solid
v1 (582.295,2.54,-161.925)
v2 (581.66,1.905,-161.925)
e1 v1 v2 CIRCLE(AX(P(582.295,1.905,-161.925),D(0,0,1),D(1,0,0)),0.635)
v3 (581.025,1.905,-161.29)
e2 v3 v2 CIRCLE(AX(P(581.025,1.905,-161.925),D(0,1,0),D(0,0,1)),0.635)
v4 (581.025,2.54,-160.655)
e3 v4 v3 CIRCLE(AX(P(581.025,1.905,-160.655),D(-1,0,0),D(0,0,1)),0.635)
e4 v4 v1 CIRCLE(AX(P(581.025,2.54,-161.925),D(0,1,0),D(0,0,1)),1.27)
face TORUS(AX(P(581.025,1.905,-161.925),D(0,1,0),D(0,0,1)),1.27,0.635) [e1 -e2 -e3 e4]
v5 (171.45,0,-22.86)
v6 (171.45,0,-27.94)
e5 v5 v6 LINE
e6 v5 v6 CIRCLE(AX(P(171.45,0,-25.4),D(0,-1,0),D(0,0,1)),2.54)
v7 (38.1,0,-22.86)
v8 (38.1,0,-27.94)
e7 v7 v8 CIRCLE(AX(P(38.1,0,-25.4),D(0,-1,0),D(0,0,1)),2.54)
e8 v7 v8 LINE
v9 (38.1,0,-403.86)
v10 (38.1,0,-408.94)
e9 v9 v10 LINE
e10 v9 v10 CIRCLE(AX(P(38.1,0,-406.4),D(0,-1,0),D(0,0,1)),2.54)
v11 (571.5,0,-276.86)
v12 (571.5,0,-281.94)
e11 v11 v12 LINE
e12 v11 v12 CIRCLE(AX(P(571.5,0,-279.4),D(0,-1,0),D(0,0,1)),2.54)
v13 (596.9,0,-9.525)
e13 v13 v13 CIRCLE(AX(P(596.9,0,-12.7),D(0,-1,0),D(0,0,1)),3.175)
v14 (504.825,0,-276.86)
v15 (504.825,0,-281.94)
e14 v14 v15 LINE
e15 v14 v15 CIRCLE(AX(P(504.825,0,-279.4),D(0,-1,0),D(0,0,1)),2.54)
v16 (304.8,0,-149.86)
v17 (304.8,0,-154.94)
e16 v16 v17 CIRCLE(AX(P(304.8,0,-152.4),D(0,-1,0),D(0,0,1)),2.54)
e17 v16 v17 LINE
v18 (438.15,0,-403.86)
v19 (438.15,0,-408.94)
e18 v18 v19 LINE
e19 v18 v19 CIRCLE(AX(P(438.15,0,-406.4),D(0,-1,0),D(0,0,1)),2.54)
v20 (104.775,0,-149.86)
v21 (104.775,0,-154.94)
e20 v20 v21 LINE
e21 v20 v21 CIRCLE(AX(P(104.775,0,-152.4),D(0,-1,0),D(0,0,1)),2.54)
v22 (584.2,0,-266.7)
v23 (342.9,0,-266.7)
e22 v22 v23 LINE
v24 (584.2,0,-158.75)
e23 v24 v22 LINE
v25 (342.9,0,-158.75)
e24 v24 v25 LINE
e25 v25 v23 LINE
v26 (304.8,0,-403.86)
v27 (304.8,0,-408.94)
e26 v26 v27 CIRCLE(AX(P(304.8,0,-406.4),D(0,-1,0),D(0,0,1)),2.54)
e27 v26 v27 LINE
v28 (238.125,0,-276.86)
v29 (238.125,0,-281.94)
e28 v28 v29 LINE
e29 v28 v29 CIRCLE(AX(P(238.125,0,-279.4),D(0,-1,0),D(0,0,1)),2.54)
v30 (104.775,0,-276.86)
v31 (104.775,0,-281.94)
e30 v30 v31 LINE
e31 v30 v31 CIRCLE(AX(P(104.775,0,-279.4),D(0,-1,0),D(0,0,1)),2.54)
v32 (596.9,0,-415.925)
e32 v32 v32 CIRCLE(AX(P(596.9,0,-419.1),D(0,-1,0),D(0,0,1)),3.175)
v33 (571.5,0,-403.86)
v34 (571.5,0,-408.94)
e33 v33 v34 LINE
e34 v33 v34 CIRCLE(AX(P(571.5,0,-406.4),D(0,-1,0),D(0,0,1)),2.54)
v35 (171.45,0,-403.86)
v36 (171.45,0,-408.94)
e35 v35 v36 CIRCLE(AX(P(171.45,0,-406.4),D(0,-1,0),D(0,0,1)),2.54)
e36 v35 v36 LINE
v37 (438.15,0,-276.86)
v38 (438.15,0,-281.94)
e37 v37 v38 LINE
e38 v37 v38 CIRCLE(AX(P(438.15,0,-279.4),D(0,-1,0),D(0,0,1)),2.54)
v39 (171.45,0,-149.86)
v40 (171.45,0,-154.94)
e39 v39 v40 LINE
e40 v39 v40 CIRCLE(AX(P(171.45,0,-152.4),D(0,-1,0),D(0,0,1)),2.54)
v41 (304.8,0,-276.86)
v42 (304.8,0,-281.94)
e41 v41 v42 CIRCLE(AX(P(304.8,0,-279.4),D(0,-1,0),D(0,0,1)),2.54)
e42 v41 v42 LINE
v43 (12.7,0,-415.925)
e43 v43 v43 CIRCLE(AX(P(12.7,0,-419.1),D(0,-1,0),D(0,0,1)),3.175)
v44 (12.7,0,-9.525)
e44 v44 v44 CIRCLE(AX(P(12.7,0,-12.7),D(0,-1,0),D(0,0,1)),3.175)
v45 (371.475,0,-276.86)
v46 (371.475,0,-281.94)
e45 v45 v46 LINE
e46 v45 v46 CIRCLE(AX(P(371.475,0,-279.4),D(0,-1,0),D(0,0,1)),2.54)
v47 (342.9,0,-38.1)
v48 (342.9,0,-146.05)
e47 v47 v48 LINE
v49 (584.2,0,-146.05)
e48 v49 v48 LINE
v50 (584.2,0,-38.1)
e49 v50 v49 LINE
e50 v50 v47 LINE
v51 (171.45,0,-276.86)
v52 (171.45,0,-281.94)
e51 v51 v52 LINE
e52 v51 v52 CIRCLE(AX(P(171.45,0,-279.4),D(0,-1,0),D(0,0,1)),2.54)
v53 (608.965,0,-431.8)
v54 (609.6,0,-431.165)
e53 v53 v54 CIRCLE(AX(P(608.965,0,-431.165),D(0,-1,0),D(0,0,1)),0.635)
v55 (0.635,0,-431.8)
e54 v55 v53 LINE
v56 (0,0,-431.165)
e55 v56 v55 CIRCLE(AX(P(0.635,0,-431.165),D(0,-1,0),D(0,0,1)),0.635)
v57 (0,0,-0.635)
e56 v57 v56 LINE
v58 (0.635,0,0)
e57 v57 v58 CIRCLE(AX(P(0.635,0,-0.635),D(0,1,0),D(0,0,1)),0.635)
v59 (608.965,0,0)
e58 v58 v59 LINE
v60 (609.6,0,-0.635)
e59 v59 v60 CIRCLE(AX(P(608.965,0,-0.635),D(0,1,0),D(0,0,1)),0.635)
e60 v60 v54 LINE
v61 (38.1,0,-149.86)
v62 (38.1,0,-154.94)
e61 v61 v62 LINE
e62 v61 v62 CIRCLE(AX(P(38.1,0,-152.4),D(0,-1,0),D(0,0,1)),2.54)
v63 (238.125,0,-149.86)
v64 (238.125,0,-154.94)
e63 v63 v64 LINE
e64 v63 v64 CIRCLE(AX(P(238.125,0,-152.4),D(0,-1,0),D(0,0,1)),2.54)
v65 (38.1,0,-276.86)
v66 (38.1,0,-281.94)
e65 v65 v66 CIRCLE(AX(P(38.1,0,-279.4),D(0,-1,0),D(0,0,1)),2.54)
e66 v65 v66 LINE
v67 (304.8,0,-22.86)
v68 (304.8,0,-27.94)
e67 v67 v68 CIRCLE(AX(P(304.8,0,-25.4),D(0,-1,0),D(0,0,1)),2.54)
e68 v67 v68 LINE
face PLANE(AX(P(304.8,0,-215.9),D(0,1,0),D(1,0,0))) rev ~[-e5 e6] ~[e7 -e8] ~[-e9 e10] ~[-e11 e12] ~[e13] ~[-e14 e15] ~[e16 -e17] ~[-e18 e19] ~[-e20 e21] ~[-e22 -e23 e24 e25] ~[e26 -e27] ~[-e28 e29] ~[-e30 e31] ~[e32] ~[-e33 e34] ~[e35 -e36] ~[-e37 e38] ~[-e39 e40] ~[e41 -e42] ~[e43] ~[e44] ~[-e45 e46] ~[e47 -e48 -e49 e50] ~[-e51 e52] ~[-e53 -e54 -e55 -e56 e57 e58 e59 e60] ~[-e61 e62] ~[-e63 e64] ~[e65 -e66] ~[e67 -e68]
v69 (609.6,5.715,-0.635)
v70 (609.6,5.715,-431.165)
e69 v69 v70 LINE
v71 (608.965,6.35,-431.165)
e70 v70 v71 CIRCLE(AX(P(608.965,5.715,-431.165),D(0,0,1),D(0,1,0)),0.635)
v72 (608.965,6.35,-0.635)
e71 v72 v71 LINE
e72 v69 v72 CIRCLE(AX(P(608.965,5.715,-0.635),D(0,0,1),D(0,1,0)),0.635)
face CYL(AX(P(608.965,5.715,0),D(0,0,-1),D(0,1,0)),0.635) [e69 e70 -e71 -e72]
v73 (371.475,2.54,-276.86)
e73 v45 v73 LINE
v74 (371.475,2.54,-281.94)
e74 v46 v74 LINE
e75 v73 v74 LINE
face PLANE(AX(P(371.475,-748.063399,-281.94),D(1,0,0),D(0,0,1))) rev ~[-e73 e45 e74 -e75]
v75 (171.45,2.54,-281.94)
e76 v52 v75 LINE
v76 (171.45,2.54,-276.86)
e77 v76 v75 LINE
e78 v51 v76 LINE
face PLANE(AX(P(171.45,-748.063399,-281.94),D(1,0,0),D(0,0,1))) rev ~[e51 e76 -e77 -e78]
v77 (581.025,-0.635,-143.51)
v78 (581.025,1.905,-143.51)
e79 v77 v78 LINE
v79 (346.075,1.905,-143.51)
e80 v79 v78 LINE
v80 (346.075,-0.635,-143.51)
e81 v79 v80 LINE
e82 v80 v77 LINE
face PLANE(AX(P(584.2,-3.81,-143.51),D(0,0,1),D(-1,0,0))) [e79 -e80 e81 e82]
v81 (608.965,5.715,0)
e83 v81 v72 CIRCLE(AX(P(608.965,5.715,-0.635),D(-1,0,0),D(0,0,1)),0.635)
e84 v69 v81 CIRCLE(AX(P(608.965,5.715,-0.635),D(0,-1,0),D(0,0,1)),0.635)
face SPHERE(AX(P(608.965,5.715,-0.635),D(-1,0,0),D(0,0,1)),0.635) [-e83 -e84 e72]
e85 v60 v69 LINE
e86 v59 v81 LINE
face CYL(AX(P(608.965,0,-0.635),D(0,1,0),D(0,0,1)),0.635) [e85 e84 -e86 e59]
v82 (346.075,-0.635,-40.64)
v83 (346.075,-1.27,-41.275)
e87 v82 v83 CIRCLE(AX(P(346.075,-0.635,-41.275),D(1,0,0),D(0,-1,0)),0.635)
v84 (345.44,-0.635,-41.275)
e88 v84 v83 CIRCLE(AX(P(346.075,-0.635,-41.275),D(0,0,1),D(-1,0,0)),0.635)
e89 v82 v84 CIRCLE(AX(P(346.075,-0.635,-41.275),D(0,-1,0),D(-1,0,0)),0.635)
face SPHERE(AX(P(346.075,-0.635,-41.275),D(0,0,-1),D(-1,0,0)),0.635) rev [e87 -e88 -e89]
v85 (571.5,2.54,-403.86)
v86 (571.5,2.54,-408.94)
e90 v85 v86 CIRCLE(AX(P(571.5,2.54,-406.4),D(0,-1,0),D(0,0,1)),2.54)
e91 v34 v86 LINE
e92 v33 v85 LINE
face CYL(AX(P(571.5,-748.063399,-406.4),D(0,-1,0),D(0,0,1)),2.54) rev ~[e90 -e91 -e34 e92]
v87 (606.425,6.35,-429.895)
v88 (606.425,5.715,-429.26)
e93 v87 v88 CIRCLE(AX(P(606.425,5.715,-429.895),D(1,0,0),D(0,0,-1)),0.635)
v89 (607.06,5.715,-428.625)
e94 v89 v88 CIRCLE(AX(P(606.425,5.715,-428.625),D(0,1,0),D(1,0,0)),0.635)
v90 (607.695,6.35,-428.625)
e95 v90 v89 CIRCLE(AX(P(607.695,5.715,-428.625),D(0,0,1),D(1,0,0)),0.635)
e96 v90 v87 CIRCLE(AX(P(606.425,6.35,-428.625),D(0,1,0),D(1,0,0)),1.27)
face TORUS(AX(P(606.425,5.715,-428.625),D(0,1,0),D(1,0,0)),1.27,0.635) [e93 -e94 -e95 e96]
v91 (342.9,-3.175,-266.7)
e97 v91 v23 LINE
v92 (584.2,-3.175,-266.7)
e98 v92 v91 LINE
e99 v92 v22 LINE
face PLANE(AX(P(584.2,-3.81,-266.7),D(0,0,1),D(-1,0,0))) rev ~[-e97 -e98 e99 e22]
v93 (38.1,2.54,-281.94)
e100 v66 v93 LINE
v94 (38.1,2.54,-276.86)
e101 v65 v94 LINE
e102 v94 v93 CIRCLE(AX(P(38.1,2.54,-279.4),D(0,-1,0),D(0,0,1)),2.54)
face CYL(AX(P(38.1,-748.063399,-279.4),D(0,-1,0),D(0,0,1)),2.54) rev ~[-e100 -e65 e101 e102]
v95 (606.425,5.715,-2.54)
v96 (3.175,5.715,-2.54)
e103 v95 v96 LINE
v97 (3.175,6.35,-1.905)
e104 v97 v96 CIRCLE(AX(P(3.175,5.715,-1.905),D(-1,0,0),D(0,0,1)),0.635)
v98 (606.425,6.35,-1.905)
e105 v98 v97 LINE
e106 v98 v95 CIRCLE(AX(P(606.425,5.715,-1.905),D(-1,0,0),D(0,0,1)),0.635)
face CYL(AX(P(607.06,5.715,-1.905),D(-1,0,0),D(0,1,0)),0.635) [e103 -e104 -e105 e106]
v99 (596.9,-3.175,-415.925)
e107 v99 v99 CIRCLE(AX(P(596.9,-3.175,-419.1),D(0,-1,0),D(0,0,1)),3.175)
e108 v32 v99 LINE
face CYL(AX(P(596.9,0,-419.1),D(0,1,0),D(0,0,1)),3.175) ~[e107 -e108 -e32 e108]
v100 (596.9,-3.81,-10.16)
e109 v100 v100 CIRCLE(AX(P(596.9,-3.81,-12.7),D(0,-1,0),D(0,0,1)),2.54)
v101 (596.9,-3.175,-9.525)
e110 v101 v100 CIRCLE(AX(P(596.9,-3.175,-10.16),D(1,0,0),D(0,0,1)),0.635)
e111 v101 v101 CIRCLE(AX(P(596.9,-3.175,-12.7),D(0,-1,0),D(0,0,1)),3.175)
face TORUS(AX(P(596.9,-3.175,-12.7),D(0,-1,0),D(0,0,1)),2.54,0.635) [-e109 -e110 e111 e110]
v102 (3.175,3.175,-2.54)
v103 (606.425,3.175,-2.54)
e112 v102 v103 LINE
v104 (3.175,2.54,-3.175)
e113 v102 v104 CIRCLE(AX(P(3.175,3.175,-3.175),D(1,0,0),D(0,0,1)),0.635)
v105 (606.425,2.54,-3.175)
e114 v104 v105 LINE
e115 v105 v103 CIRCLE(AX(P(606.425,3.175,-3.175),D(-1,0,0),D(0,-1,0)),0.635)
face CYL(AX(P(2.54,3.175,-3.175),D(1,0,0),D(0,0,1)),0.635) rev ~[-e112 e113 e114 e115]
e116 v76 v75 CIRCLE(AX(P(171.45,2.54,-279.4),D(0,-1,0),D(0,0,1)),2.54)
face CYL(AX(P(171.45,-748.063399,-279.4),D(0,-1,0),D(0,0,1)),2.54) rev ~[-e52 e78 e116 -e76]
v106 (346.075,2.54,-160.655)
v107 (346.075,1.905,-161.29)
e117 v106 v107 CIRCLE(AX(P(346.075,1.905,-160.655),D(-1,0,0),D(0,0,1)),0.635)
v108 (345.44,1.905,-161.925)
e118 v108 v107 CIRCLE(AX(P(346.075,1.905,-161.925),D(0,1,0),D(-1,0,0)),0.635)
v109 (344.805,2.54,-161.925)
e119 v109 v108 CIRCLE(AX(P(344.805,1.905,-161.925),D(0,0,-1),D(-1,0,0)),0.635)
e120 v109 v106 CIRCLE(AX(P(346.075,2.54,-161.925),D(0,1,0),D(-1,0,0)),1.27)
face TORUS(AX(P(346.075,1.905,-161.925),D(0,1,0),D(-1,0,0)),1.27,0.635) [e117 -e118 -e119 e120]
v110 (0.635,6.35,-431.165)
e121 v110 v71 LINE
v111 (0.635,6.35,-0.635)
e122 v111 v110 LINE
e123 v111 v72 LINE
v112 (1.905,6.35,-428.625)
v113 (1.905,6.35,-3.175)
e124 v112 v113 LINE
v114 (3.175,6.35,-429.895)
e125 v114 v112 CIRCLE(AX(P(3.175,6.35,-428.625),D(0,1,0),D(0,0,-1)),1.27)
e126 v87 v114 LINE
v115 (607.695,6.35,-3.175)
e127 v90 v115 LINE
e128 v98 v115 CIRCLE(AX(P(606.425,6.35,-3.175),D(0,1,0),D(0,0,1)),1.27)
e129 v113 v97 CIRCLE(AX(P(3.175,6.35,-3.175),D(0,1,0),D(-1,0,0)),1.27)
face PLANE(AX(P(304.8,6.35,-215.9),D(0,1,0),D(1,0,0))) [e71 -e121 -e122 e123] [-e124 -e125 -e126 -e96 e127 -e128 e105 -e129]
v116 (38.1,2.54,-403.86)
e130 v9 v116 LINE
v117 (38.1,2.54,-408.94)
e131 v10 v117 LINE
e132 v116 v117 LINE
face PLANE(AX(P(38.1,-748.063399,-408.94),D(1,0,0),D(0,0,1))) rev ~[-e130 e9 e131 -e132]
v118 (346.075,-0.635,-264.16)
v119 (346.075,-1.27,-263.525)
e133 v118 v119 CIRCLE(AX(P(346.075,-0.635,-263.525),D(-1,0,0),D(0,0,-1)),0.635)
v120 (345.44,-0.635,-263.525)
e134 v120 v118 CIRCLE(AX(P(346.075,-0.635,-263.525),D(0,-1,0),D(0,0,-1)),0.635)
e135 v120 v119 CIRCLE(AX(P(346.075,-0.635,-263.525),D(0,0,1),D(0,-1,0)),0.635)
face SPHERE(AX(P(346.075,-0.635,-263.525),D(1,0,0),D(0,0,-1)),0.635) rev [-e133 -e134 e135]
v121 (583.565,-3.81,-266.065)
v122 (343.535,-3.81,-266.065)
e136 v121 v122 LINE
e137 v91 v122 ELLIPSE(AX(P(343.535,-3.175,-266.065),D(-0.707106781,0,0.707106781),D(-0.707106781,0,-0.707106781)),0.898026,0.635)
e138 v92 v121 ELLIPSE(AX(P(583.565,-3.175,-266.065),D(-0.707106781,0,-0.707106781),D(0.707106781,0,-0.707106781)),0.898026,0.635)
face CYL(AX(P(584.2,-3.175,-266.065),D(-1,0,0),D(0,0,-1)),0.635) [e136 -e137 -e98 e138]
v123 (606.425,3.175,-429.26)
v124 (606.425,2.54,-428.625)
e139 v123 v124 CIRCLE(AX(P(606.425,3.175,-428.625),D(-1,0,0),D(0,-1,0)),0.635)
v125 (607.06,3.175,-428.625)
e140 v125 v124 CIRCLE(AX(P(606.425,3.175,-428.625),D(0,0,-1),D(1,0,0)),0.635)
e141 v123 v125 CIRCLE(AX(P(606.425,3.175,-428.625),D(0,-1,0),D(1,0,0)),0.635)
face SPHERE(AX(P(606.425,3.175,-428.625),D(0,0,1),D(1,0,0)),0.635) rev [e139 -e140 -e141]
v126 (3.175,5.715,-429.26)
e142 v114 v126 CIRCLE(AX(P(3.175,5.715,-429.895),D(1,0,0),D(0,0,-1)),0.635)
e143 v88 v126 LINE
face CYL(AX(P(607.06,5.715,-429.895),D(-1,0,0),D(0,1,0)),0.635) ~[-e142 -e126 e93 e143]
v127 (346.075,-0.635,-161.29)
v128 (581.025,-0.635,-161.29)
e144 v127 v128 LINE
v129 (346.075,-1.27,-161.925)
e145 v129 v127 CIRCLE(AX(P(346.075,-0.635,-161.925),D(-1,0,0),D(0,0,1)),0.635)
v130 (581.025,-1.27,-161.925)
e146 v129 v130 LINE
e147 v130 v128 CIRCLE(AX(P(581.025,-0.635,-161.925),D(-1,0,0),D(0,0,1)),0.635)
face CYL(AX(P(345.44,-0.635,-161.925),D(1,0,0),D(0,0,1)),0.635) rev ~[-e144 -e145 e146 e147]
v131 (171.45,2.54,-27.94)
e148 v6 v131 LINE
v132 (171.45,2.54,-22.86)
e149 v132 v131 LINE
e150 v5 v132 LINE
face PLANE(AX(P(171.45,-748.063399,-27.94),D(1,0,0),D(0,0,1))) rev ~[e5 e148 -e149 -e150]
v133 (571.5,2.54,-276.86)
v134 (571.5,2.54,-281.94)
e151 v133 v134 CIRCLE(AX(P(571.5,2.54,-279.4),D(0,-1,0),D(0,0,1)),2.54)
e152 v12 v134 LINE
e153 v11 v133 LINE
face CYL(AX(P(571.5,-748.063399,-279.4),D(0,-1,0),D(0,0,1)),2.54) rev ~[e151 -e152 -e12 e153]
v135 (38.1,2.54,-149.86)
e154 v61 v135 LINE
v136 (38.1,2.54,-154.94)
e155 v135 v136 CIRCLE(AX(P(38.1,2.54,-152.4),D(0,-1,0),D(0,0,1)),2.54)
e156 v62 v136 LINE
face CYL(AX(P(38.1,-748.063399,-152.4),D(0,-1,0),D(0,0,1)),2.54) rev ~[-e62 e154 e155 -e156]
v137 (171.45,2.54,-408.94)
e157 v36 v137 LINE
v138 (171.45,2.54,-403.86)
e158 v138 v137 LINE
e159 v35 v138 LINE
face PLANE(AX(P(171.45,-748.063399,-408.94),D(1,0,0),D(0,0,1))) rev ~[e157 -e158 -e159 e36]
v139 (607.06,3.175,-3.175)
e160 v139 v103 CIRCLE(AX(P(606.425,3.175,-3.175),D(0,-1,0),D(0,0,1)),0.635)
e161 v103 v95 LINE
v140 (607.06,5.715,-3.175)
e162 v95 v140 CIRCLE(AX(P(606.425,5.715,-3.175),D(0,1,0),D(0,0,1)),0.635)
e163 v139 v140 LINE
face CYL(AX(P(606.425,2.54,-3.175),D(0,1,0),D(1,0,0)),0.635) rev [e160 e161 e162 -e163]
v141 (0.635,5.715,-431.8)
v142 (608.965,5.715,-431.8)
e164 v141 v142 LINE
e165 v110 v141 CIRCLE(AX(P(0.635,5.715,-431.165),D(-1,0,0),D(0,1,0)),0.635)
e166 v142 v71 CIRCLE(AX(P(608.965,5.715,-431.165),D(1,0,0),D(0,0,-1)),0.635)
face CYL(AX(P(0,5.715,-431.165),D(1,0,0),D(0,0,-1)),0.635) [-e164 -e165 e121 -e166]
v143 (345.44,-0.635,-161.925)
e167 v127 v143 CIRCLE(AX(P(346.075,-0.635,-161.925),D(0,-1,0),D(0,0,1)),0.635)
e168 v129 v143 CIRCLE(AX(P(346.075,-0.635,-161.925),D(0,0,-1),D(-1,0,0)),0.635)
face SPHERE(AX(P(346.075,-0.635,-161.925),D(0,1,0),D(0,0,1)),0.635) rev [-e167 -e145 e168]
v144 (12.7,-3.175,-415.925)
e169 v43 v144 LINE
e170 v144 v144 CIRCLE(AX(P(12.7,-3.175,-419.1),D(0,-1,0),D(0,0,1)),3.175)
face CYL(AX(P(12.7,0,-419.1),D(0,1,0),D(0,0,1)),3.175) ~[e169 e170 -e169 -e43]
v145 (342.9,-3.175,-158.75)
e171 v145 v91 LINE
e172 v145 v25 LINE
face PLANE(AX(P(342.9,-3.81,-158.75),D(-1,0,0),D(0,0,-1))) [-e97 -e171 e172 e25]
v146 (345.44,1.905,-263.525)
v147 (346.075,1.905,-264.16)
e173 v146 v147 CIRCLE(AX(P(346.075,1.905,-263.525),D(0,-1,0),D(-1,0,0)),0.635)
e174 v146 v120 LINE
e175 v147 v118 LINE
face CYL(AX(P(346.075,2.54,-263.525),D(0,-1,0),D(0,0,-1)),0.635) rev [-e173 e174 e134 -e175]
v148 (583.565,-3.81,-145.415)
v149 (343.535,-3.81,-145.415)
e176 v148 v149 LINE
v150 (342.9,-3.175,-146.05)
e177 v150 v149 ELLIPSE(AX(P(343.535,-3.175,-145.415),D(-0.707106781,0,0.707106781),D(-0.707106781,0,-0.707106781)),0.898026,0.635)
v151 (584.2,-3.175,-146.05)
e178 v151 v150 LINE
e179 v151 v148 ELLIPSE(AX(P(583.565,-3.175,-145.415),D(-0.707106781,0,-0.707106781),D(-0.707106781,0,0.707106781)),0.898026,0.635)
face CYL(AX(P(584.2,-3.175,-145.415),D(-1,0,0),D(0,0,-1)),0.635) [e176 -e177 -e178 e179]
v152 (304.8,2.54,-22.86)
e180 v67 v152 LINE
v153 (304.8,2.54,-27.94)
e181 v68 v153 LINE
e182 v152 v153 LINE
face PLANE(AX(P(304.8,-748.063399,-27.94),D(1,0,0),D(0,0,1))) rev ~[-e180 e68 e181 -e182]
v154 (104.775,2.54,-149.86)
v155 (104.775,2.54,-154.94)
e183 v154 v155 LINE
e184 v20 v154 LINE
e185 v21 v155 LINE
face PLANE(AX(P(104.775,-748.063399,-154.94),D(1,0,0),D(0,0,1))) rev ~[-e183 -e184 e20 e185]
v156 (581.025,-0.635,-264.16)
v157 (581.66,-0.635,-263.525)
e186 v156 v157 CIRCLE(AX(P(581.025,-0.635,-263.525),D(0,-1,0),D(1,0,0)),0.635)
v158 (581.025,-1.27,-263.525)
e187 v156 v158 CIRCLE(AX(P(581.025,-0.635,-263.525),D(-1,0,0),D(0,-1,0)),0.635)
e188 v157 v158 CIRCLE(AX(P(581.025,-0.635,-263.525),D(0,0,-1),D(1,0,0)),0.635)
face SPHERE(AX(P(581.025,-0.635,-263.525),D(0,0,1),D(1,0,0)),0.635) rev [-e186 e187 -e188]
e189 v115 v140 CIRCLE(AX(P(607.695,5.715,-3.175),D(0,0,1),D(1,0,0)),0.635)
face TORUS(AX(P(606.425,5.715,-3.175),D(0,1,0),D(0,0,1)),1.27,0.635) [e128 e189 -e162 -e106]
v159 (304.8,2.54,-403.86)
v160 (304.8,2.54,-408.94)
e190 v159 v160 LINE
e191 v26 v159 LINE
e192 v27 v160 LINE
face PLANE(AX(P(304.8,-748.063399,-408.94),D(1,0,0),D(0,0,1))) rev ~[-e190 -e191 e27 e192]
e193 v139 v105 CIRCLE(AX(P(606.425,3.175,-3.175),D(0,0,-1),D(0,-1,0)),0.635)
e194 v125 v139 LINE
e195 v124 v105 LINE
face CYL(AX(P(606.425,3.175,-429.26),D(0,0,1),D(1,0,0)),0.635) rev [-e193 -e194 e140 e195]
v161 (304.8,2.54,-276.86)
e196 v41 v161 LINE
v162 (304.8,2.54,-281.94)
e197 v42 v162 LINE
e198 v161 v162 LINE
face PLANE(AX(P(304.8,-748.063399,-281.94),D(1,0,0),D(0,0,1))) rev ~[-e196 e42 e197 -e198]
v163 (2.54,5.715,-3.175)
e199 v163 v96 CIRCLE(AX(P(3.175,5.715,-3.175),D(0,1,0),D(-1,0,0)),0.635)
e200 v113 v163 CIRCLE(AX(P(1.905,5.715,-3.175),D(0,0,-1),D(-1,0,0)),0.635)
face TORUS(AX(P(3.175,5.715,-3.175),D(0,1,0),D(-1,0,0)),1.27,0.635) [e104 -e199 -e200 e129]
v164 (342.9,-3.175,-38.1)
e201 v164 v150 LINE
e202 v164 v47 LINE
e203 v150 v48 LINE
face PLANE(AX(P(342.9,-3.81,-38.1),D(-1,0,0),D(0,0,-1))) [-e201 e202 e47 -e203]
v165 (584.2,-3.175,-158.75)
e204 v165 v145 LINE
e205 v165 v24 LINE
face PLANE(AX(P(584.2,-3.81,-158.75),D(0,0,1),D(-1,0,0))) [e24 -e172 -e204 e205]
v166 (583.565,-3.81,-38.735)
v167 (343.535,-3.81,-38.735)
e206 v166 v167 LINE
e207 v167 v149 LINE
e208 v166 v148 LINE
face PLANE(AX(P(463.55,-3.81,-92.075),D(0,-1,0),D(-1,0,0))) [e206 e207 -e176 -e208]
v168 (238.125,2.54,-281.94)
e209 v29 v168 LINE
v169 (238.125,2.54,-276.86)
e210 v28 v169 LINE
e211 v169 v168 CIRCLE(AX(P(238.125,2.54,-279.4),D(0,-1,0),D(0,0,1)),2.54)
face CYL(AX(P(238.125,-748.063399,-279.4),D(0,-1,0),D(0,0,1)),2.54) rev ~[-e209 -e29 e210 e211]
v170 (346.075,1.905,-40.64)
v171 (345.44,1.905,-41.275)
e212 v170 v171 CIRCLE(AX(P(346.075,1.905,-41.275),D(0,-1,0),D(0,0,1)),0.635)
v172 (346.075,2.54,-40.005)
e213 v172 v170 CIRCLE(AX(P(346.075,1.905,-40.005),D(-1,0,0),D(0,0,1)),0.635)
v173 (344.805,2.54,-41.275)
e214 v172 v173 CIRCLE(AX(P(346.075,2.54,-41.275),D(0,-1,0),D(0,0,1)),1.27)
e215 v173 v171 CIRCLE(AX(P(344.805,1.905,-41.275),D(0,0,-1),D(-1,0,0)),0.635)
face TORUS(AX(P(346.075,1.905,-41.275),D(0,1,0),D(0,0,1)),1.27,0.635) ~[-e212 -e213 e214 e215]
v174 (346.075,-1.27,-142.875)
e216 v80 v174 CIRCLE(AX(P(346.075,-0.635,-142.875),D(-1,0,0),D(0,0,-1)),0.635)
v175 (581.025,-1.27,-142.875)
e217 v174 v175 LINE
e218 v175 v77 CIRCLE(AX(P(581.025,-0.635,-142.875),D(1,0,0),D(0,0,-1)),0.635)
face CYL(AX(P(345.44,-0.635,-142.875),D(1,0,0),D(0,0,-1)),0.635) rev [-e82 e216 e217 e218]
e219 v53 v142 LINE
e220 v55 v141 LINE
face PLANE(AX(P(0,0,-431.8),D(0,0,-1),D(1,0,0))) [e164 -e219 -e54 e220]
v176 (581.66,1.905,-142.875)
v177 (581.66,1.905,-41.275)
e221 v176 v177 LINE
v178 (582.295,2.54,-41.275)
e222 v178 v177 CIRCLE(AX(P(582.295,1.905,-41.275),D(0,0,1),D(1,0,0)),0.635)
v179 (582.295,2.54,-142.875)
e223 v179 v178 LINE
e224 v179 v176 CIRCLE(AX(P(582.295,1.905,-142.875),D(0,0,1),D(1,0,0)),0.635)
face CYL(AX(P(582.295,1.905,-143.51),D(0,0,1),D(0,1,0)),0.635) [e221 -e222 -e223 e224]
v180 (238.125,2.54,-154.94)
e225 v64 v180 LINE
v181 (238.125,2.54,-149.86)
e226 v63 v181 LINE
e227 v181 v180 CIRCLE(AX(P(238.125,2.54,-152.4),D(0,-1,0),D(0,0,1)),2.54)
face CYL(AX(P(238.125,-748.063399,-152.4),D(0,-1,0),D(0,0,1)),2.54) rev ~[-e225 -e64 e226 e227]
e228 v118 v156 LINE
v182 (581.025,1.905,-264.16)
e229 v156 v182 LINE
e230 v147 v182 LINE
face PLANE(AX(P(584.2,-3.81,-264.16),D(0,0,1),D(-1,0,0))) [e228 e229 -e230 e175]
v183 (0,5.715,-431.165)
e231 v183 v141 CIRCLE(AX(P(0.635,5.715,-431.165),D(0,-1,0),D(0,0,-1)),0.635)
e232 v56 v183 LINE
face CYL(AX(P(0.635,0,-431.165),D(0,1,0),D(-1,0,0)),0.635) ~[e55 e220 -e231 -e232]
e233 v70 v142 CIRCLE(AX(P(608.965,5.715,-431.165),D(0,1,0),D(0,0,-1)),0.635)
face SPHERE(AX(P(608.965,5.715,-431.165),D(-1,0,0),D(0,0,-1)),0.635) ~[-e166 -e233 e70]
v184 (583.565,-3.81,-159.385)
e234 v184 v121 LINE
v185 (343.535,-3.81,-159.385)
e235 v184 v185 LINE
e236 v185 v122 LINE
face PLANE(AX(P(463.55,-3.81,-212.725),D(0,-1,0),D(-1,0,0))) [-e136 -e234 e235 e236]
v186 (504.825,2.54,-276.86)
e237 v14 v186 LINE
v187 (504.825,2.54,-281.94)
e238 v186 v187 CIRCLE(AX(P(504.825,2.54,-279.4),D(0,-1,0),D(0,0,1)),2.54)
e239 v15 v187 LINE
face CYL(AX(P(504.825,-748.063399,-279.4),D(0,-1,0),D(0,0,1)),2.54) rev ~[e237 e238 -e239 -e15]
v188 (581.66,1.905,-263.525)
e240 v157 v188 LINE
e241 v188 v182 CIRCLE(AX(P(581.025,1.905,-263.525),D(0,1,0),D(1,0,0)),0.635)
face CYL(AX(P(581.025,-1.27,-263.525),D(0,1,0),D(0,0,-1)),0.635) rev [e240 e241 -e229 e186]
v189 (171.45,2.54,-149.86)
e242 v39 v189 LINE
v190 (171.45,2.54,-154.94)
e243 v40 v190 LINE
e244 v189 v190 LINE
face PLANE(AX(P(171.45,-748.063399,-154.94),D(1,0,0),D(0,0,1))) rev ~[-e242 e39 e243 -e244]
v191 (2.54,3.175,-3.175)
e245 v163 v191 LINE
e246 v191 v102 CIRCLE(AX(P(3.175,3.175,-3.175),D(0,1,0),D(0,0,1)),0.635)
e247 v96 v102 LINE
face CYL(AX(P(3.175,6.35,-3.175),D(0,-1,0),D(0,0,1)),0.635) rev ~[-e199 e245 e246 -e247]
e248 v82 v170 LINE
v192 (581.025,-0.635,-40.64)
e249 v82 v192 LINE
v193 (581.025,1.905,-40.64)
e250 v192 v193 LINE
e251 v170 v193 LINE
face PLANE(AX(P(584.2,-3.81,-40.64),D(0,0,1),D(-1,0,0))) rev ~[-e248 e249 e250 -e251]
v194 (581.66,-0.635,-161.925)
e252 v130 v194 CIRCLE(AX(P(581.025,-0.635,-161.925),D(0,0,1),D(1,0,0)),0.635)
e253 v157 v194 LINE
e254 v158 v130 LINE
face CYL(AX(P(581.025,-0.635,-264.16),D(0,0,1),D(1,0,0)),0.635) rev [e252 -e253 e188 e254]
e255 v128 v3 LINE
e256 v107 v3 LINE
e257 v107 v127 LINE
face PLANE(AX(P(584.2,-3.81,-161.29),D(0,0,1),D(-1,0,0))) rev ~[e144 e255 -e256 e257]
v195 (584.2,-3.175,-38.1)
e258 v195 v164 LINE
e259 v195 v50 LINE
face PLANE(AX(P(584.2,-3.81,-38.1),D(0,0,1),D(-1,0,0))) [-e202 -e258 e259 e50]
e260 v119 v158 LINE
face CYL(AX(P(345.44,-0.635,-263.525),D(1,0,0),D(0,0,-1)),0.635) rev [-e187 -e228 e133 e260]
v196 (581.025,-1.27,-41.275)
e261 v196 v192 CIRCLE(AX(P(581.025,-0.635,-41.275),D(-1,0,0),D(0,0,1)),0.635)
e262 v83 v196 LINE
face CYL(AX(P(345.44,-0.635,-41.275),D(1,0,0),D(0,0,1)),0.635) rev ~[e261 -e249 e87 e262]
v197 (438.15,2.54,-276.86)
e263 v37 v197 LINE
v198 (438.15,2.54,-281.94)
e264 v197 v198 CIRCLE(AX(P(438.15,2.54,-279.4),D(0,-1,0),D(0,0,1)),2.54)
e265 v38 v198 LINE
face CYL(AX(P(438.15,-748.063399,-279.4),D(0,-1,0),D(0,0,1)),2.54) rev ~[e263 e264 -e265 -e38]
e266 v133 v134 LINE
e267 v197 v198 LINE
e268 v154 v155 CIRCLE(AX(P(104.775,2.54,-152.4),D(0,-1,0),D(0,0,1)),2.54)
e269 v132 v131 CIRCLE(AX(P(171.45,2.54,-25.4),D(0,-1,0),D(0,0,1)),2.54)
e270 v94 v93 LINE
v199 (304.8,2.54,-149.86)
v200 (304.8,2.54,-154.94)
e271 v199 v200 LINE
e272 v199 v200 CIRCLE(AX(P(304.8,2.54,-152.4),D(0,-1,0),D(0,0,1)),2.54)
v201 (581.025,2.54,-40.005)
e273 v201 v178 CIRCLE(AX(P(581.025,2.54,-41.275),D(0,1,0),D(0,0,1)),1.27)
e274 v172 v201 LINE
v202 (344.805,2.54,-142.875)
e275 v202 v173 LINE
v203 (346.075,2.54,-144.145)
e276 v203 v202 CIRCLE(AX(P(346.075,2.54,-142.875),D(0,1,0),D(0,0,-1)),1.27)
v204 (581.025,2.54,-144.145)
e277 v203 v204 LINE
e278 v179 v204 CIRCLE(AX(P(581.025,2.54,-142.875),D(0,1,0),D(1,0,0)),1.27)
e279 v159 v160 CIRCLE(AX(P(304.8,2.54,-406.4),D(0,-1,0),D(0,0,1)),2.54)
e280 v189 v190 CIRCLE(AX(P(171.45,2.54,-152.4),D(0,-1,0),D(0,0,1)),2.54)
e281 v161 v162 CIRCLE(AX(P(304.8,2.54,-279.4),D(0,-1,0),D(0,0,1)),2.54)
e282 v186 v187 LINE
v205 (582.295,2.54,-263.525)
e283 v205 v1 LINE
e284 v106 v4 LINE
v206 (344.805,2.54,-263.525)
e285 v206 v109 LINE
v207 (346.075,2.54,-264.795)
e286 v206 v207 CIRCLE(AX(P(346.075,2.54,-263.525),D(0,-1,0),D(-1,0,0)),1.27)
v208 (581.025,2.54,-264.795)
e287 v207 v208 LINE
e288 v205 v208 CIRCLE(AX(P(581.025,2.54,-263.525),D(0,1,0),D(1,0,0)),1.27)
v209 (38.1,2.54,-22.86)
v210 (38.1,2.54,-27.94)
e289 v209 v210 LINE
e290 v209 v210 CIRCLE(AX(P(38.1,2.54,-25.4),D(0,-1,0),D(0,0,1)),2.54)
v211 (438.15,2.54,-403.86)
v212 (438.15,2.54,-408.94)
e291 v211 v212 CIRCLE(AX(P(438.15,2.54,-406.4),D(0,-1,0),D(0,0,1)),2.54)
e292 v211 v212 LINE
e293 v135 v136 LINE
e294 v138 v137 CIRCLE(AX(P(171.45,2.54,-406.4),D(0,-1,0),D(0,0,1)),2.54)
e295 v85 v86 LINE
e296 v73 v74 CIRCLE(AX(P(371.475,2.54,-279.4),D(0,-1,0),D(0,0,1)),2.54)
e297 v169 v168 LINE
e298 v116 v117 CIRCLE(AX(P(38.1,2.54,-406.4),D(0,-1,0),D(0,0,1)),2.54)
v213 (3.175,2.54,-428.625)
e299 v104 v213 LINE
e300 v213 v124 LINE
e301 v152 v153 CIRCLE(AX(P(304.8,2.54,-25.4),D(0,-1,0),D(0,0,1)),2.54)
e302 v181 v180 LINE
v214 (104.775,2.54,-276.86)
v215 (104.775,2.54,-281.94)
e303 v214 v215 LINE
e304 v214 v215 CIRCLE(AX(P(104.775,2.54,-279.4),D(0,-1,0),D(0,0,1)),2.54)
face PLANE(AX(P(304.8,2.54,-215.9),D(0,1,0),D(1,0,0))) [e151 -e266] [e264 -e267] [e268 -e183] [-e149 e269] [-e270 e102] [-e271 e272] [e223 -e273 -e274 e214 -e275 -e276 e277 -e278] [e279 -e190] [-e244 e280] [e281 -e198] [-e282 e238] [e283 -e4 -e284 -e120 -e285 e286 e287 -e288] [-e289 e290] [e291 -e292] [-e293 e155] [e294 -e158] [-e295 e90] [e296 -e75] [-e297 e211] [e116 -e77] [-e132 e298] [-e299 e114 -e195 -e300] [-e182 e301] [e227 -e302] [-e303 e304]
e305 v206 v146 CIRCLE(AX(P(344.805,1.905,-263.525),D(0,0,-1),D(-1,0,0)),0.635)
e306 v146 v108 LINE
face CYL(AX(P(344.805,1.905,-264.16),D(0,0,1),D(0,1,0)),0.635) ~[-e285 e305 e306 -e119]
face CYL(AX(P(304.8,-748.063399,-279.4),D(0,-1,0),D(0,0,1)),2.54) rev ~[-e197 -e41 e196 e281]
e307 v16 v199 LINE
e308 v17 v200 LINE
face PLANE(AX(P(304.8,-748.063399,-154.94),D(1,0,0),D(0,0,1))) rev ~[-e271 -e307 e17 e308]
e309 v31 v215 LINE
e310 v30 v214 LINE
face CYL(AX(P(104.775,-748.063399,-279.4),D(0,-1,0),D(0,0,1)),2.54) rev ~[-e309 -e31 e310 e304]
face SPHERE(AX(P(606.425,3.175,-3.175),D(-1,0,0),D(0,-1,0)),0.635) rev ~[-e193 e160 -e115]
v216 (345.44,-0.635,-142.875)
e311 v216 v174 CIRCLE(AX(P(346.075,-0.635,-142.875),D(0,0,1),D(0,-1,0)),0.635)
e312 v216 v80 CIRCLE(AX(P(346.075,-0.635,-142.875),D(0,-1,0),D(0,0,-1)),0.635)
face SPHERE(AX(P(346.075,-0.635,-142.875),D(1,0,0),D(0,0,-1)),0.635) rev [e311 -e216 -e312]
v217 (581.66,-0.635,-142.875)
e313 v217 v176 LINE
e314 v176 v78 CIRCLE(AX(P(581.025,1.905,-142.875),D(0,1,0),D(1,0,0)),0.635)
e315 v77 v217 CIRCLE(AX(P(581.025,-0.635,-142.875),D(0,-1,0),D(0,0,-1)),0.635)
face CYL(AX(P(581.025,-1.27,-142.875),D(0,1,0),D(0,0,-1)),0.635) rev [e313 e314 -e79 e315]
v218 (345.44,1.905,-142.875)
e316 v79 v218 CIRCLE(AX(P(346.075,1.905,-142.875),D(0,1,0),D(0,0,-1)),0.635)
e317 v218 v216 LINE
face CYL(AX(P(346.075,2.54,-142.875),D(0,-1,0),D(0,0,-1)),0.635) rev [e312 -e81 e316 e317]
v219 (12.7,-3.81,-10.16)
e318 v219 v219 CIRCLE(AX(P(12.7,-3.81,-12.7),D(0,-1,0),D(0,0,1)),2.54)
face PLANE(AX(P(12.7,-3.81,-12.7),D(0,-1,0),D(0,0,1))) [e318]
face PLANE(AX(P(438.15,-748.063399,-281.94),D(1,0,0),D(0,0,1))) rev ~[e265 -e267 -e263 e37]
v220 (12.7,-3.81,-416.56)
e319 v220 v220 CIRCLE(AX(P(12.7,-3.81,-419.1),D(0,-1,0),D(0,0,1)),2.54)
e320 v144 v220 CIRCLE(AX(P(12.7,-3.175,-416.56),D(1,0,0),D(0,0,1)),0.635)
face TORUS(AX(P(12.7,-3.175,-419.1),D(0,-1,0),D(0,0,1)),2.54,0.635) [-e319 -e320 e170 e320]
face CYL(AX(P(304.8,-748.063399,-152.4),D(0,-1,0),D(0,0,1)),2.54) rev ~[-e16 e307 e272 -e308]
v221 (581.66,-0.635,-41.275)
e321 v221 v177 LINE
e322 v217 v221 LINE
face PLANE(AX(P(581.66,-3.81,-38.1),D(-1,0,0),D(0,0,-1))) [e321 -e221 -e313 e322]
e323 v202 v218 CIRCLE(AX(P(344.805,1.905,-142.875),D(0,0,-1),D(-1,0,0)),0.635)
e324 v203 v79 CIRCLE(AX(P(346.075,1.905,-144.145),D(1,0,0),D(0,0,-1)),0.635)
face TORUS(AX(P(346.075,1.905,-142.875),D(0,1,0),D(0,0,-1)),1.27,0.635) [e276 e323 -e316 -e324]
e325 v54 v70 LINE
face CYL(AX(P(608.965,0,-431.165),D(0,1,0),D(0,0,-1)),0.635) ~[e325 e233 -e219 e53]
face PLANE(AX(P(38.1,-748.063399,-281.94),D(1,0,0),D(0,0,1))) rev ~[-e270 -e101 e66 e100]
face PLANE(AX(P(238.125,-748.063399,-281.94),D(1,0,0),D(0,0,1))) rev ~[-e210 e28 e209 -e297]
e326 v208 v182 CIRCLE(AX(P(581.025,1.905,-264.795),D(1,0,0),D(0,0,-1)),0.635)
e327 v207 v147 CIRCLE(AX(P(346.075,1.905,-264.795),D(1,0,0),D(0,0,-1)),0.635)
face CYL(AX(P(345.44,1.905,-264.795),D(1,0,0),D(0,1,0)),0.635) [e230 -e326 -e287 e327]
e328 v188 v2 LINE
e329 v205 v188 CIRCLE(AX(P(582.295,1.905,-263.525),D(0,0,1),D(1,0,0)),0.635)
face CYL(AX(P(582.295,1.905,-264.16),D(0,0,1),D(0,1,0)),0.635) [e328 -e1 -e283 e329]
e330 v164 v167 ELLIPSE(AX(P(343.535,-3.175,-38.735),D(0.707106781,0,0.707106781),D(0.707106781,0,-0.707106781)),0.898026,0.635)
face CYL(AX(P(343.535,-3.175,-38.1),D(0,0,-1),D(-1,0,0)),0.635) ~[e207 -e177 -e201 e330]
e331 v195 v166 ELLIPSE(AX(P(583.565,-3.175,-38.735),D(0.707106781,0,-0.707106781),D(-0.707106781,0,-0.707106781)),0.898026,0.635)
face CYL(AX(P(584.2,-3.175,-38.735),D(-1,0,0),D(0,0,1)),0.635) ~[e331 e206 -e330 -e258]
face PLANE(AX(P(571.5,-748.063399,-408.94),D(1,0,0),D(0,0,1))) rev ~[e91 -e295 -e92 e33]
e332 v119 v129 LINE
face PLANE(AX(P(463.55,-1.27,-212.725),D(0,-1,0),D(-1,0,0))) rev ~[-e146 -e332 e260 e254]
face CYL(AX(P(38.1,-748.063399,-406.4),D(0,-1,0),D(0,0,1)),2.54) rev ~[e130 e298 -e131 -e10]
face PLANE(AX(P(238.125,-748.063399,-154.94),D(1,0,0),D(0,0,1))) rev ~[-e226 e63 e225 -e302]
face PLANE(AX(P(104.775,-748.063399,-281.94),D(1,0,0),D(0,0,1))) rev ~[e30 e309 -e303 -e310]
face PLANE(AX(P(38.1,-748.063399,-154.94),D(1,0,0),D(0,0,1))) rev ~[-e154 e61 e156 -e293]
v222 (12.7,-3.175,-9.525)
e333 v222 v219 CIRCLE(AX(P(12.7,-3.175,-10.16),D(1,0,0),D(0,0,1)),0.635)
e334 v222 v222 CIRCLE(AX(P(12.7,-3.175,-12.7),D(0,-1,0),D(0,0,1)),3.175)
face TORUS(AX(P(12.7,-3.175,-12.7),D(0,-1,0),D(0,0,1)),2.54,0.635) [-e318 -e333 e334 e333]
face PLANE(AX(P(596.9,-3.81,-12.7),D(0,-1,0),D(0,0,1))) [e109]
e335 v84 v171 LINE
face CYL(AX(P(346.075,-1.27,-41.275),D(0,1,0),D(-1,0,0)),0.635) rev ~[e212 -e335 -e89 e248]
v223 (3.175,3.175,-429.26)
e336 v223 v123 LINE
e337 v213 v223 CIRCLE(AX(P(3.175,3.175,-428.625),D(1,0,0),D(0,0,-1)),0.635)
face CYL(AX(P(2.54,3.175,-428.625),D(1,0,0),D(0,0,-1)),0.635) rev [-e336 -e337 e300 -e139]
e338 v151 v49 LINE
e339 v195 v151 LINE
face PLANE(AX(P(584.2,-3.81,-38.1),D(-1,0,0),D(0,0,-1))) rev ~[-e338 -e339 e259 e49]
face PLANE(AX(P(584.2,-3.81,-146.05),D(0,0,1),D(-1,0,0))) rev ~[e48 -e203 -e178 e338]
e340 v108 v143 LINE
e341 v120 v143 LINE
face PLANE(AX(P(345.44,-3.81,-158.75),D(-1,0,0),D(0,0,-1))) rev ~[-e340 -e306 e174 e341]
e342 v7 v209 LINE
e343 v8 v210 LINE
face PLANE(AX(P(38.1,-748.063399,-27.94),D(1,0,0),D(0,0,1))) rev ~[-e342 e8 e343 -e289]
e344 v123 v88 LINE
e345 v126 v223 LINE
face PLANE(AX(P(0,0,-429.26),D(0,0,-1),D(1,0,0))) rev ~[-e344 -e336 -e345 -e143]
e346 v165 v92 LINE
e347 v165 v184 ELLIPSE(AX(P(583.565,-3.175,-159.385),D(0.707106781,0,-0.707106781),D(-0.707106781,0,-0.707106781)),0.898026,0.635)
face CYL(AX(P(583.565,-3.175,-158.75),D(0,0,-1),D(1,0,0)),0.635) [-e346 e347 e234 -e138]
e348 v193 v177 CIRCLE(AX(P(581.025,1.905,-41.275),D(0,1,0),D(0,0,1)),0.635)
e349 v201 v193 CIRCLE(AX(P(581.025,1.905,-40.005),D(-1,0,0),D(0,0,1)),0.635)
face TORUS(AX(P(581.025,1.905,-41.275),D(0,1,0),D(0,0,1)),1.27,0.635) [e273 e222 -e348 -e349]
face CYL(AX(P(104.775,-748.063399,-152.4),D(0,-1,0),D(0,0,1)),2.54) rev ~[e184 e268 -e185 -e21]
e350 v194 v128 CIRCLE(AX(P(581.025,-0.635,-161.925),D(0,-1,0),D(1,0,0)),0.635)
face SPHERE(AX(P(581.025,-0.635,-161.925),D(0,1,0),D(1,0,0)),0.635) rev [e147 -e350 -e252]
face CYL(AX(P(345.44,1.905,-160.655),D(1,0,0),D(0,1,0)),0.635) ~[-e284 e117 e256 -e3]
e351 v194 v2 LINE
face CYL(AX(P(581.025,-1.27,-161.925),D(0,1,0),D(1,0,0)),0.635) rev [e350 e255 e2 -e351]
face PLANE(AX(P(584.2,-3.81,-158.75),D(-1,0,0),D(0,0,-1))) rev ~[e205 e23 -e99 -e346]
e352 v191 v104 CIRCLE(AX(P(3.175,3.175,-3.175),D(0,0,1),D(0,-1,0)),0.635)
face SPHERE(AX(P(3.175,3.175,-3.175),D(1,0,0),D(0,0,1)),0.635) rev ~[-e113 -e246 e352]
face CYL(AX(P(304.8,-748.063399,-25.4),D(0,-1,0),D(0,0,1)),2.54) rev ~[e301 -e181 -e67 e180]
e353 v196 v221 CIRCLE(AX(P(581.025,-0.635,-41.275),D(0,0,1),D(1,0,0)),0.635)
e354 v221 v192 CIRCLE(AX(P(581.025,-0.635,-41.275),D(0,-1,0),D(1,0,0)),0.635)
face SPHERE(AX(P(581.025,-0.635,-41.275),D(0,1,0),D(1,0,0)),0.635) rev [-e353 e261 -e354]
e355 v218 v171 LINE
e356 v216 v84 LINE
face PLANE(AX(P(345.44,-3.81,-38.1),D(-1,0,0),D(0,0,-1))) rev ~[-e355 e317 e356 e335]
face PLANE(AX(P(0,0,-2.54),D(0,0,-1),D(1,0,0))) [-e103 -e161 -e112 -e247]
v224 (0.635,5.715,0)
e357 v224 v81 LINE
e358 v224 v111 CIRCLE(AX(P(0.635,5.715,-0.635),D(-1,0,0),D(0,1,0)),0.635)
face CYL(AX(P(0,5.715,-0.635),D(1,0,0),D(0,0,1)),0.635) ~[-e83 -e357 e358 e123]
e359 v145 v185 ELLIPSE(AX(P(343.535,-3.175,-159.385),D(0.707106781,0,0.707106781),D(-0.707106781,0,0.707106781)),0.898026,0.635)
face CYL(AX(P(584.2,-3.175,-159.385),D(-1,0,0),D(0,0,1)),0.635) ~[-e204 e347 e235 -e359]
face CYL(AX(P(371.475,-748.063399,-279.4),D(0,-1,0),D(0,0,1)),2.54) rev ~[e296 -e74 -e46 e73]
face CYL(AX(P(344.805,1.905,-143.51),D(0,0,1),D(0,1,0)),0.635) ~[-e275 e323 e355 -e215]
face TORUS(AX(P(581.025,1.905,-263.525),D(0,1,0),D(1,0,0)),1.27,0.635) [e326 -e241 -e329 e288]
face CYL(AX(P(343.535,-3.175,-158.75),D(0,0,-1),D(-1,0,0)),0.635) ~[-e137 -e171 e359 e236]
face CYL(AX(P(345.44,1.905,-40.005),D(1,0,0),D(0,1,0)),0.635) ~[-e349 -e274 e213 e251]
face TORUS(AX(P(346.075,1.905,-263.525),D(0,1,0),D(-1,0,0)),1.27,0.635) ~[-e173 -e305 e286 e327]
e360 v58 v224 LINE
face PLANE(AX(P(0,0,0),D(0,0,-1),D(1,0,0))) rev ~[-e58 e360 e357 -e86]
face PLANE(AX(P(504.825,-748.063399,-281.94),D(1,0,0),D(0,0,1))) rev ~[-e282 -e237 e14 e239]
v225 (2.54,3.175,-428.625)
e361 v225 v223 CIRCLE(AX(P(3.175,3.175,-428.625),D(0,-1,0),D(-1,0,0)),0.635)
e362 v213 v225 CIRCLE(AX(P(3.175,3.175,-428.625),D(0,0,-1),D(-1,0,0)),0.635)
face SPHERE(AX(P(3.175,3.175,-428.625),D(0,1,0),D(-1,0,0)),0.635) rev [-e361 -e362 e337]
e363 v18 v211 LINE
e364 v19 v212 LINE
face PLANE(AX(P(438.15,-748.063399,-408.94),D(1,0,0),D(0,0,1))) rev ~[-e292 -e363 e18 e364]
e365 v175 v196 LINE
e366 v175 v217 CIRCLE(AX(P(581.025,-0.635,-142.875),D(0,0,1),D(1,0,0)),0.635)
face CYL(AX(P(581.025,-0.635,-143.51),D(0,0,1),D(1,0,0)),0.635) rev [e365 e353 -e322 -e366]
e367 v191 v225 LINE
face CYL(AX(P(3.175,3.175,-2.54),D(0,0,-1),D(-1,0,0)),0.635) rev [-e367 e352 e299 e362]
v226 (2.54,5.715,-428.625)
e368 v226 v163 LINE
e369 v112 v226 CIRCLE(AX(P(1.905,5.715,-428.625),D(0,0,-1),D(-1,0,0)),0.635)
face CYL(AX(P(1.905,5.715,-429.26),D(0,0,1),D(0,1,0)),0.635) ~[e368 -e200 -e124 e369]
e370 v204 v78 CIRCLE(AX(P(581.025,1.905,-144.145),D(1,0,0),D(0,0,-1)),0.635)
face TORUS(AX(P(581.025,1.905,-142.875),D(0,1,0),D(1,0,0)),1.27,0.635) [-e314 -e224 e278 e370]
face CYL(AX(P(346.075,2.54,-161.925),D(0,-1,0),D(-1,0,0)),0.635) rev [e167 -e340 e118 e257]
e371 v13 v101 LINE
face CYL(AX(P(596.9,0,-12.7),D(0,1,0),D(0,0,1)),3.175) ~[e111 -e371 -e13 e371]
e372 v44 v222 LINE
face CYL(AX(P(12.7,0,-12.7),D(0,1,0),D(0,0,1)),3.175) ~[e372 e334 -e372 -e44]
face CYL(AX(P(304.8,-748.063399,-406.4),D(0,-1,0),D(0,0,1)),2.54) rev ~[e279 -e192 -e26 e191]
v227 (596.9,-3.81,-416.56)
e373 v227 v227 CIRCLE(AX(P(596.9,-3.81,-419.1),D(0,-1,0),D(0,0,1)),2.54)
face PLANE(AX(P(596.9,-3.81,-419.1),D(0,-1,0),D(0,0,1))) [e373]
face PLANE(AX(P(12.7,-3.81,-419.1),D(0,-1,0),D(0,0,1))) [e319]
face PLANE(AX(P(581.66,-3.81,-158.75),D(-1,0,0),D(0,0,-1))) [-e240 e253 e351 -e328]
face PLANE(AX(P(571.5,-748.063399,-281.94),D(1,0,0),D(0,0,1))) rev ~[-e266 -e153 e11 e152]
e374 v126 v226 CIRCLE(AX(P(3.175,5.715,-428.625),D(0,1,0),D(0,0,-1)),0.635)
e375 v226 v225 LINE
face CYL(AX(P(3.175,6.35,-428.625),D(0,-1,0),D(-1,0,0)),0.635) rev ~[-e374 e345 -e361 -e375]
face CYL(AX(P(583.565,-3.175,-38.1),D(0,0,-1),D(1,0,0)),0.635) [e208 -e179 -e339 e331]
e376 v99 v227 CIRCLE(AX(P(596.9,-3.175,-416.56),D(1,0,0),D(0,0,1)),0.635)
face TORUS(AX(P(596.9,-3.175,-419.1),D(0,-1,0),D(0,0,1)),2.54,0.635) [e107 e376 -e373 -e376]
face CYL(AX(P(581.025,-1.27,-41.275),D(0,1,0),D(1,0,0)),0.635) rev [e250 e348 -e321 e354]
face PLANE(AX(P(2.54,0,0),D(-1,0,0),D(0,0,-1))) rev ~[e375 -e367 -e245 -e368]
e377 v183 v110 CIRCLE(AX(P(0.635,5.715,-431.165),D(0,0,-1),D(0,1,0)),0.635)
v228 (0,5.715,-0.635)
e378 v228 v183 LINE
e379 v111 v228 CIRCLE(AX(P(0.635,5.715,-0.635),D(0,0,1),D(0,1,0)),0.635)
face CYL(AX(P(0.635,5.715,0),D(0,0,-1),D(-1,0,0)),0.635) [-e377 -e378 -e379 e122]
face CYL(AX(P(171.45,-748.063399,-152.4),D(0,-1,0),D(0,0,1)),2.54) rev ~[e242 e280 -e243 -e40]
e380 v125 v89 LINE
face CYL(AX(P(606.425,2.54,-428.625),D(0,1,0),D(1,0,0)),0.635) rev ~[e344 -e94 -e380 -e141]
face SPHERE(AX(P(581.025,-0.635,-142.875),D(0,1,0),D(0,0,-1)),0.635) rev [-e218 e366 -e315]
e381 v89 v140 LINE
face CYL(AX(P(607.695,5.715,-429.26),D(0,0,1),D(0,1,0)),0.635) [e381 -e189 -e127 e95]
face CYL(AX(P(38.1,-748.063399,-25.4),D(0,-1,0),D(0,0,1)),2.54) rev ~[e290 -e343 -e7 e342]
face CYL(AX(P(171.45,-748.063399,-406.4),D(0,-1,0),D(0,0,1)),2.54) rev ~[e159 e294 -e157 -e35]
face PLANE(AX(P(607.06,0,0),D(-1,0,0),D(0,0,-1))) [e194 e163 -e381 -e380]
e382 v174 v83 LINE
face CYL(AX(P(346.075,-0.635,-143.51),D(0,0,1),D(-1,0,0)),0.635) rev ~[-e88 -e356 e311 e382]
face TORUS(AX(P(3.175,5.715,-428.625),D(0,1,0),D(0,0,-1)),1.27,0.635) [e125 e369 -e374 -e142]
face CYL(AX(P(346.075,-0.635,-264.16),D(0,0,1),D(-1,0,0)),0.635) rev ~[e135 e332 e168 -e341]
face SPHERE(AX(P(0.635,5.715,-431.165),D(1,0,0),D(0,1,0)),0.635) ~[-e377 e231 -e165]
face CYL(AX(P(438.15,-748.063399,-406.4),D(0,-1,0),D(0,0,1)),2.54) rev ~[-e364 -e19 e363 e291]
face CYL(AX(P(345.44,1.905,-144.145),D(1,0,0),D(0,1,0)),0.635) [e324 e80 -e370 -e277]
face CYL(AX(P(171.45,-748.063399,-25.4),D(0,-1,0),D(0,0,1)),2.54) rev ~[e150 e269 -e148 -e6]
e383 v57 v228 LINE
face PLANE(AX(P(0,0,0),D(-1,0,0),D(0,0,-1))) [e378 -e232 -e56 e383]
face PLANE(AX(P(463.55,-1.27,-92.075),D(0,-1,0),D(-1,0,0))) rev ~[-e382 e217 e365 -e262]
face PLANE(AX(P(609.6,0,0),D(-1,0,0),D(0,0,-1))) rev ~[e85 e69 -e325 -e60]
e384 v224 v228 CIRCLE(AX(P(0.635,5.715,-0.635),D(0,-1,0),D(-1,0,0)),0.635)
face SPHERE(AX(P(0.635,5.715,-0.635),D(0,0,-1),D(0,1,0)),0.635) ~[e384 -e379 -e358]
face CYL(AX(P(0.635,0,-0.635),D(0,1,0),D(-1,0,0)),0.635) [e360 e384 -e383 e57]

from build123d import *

# Parameters (mm, degrees)
SKETCH1_W               = 609.6
SKETCH1_H               = 431.8
TRAY_BASE_DEPTH         = 6.35
SQUARE_INDENT_REACH     = 749.105
SKETCH8_W               = 241.3
SKETCH8_H               = 107.95
SHELL2_T                = -2.54
CUT_EXTRUDE1_DEPTH      = 748.063399251
CUT_EXTRUDE1_DEPTH_BACK = 748.063399251
SKETCH34_R              = 3.175
BOSS_EXTRUDE1_DEPTH     = 3.81
FILLET1_R               = 0.635


with BuildPart() as part:
    # Sketch1 → Tray Base (new body)
    with BuildSketch(Plane(origin=(0, 0, 0), x_dir=(1, 0, 0), z_dir=(0, 1, 0))):
        with Locations((304.8, 215.9)):
            Rectangle(SKETCH1_W, SKETCH1_H)
    extrude(amount=TRAY_BASE_DEPTH)

    # Sketch8 → Square Indent (add, up to next)
    with BuildSketch(Plane(origin=(0, -3.81, 0), x_dir=(-1, 0, 0), z_dir=(0, -1, 0)), mode=Mode.PRIVATE) as square_indent_sk1:
        with Locations((-463.55, 212.725)):
            Rectangle(SKETCH8_W, SKETCH8_H)
    square_indent_tool1 = extrude(square_indent_sk1.sketch, amount=-SQUARE_INDENT_REACH, mode=Mode.PRIVATE) - part.part
    # Sketch8 → Square Indent (add, up to next)
    with BuildSketch(Plane(origin=(0, -3.81, 0), x_dir=(-1, 0, 0), z_dir=(0, -1, 0)), mode=Mode.PRIVATE) as square_indent_sk2:
        with Locations((-463.55, 92.075)):
            Rectangle(SKETCH8_W, SKETCH8_H)
    square_indent_tool2 = extrude(square_indent_sk2.sketch, amount=-SQUARE_INDENT_REACH, mode=Mode.PRIVATE) - part.part
    add(square_indent_tool1.solids().sort_by_distance((463.55, -3.81, -212.725))[0])
    add(square_indent_tool2.solids().sort_by_distance((463.55, -3.81, -92.075))[0])

    # Shell2
    shell2_openings = [part.faces().sort_by_distance(p)[0] for p in [
        (304.8, 6.35, -215.9),
    ]]
    offset(amount=SHELL2_T, openings=shell2_openings, kind=Kind.INTERSECTION)

    # Sketch32 → Cut-Extrude1 (cut, two sides: drawn at the far end of the back side and taken through both)
    with BuildSketch(Plane(origin=(0, 0, 0), x_dir=(1, 0, 0), z_dir=(0, 1, 0)).offset(-CUT_EXTRUDE1_DEPTH_BACK)):
        with BuildLine():
            Line((38.1, 27.94), (38.1, 22.86))
            ThreePointArc((38.1, 22.86), (35.56, 25.4), (38.1, 27.94))
        make_face()
        with BuildLine():
            Line((38.1, 154.94), (38.1, 149.86))
            ThreePointArc((38.1, 149.86), (35.56, 152.4), (38.1, 154.94))
        make_face()
        with BuildLine():
            Line((38.1, 281.94), (38.1, 276.86))
            ThreePointArc((38.1, 276.86), (35.56, 279.4), (38.1, 281.94))
        make_face()
        with BuildLine():
            Line((38.1, 408.94), (38.1, 403.86))
            ThreePointArc((38.1, 403.86), (35.56, 406.4), (38.1, 408.94))
        make_face()
        with BuildLine():
            Line((171.45, 27.94), (171.45, 22.86))
            ThreePointArc((171.45, 22.86), (168.91, 25.4), (171.45, 27.94))
        make_face()
        with BuildLine():
            Line((304.8, 27.94), (304.8, 22.86))
            ThreePointArc((304.8, 22.86), (302.26, 25.4), (304.8, 27.94))
        make_face()
        with BuildLine():
            Line((104.775, 154.94), (104.775, 149.86))
            ThreePointArc((104.775, 149.86), (102.235, 152.4), (104.775, 154.94))
        make_face()
        with BuildLine():
            Line((171.45, 154.94), (171.45, 149.86))
            ThreePointArc((171.45, 149.86), (168.91, 152.4), (171.45, 154.94))
        make_face()
        with BuildLine():
            Line((238.125, 154.94), (238.125, 149.86))
            ThreePointArc((238.125, 149.86), (235.585, 152.4), (238.125, 154.94))
        make_face()
        with BuildLine():
            Line((304.8, 154.94), (304.8, 149.86))
            ThreePointArc((304.8, 149.86), (302.26, 152.4), (304.8, 154.94))
        make_face()
        with BuildLine():
            Line((104.775, 281.94), (104.775, 276.86))
            ThreePointArc((104.775, 276.86), (102.235, 279.4), (104.775, 281.94))
        make_face()
        with BuildLine():
            Line((171.45, 281.94), (171.45, 276.86))
            ThreePointArc((171.45, 276.86), (168.91, 279.4), (171.45, 281.94))
        make_face()
        with BuildLine():
            Line((238.125, 281.94), (238.125, 276.86))
            ThreePointArc((238.125, 276.86), (235.585, 279.4), (238.125, 281.94))
        make_face()
        with BuildLine():
            Line((304.8, 281.94), (304.8, 276.86))
            ThreePointArc((304.8, 276.86), (302.26, 279.4), (304.8, 281.94))
        make_face()
        with BuildLine():
            Line((371.475, 281.94), (371.475, 276.86))
            ThreePointArc((371.475, 276.86), (368.935, 279.4), (371.475, 281.94))
        make_face()
        with BuildLine():
            Line((438.15, 281.94), (438.15, 276.86))
            ThreePointArc((438.15, 276.86), (435.61, 279.4), (438.15, 281.94))
        make_face()
        with BuildLine():
            Line((504.825, 281.94), (504.825, 276.86))
            ThreePointArc((504.825, 276.86), (502.285, 279.4), (504.825, 281.94))
        make_face()
        with BuildLine():
            Line((571.5, 281.94), (571.5, 276.86))
            ThreePointArc((571.5, 276.86), (568.96, 279.4), (571.5, 281.94))
        make_face()
        with BuildLine():
            Line((171.45, 408.94), (171.45, 403.86))
            ThreePointArc((171.45, 403.86), (168.91, 406.4), (171.45, 408.94))
        make_face()
        with BuildLine():
            Line((304.8, 408.94), (304.8, 403.86))
            ThreePointArc((304.8, 403.86), (302.26, 406.4), (304.8, 408.94))
        make_face()
        with BuildLine():
            Line((438.15, 408.94), (438.15, 403.86))
            ThreePointArc((438.15, 403.86), (435.61, 406.4), (438.15, 408.94))
        make_face()
        with BuildLine():
            Line((571.5, 408.94), (571.5, 403.86))
            ThreePointArc((571.5, 403.86), (568.96, 406.4), (571.5, 408.94))
        make_face()
    extrude(amount=CUT_EXTRUDE1_DEPTH + CUT_EXTRUDE1_DEPTH_BACK, mode=Mode.SUBTRACT)

    # Sketch34 → Boss-Extrude1 (add)
    with BuildSketch(Plane.XZ):
        with Locations(Location((12.7, -12.7, 0), (0, 0, 90))):
            Circle(SKETCH34_R)
        with Locations(Location((596.9, -12.7, 0), (0, 0, 90))):
            Circle(SKETCH34_R)
        with Locations(Location((596.9, -419.1, 0), (0, 0, 90))):
            Circle(SKETCH34_R)
        with Locations(Location((12.7, -419.1, 0), (0, 0, 90))):
            Circle(SKETCH34_R)
    extrude(amount=BOSS_EXTRUDE1_DEPTH)

    # Fillet1
    fillet1_edges = [part.edges().sort_by_distance(p)[0] for p in [
        (304.8, 6.35, -431.8),
        (0, 6.35, -215.9),
        (584.2, -3.81, -212.725),
        (463.55, -3.81, -266.7),
        (463.55, -3.81, -158.75),
        (342.9, -3.81, -212.725),
        (463.55, -3.81, -146.05),
        (342.9, -3.81, -92.075),
        (584.2, -3.81, -92.075),
        (463.55, -3.81, -38.1),
        (12.7, -3.81, -15.875),
        (596.9, -3.81, -15.875),
        (596.9, -3.81, -422.275),
        (12.7, -3.81, -422.275),
        (304.8, 6.35, 0),
        (304.8, 2.54, -2.54),
        (2.54, 4.445, -2.54),
        (607.06, 2.54, -215.9),
        (607.06, 4.445, -2.54),
        (304.8, 6.35, -429.26),
        (607.06, 4.445, -429.26),
        (2.54, 6.35, -215.9),
        (2.54, 4.445, -429.26),
        (304.8, 6.35, -2.54),
        (607.06, 6.35, -215.9),
        (463.55, 2.54, -40.64),
        (581.66, 2.54, -92.075),
        (345.44, 2.54, -212.725),
        (463.55, 2.54, -161.29),
        (2.54, 2.54, -215.9),
        (304.8, 2.54, -429.26),
        (345.44, 0.635, -161.29),
        (581.66, 2.54, -212.725),
        (581.66, 0.635, -161.29),
        (581.66, -1.27, -212.725),
        (463.55, 2.54, -264.16),
        (581.66, 0.635, -264.16),
        (463.55, -1.27, -264.16),
        (345.44, 0.635, -264.16),
        (463.55, -1.27, -161.29),
        (345.44, -1.27, -212.725),
        (581.66, 0.635, -40.64),
        (463.55, 2.54, -143.51),
        (581.66, 0.635, -143.51),
        (463.55, -1.27, -143.51),
        (345.44, 2.54, -92.075),
        (345.44, 0.635, -143.51),
        (345.44, -1.27, -92.075),
        (345.44, 0.635, -40.64),
        (581.66, -1.27, -92.075),
        (463.55, -1.27, -40.64),
        (0, 3.175, 0),
        (0, 3.175, -431.8),
        (609.6, 3.175, -431.8),
        (609.6, 3.175, 0),
        (609.6, 6.35, -215.9),
    ]]
    fillet(fillet1_edges, radius=FILLET1_R)


solid = part.part
